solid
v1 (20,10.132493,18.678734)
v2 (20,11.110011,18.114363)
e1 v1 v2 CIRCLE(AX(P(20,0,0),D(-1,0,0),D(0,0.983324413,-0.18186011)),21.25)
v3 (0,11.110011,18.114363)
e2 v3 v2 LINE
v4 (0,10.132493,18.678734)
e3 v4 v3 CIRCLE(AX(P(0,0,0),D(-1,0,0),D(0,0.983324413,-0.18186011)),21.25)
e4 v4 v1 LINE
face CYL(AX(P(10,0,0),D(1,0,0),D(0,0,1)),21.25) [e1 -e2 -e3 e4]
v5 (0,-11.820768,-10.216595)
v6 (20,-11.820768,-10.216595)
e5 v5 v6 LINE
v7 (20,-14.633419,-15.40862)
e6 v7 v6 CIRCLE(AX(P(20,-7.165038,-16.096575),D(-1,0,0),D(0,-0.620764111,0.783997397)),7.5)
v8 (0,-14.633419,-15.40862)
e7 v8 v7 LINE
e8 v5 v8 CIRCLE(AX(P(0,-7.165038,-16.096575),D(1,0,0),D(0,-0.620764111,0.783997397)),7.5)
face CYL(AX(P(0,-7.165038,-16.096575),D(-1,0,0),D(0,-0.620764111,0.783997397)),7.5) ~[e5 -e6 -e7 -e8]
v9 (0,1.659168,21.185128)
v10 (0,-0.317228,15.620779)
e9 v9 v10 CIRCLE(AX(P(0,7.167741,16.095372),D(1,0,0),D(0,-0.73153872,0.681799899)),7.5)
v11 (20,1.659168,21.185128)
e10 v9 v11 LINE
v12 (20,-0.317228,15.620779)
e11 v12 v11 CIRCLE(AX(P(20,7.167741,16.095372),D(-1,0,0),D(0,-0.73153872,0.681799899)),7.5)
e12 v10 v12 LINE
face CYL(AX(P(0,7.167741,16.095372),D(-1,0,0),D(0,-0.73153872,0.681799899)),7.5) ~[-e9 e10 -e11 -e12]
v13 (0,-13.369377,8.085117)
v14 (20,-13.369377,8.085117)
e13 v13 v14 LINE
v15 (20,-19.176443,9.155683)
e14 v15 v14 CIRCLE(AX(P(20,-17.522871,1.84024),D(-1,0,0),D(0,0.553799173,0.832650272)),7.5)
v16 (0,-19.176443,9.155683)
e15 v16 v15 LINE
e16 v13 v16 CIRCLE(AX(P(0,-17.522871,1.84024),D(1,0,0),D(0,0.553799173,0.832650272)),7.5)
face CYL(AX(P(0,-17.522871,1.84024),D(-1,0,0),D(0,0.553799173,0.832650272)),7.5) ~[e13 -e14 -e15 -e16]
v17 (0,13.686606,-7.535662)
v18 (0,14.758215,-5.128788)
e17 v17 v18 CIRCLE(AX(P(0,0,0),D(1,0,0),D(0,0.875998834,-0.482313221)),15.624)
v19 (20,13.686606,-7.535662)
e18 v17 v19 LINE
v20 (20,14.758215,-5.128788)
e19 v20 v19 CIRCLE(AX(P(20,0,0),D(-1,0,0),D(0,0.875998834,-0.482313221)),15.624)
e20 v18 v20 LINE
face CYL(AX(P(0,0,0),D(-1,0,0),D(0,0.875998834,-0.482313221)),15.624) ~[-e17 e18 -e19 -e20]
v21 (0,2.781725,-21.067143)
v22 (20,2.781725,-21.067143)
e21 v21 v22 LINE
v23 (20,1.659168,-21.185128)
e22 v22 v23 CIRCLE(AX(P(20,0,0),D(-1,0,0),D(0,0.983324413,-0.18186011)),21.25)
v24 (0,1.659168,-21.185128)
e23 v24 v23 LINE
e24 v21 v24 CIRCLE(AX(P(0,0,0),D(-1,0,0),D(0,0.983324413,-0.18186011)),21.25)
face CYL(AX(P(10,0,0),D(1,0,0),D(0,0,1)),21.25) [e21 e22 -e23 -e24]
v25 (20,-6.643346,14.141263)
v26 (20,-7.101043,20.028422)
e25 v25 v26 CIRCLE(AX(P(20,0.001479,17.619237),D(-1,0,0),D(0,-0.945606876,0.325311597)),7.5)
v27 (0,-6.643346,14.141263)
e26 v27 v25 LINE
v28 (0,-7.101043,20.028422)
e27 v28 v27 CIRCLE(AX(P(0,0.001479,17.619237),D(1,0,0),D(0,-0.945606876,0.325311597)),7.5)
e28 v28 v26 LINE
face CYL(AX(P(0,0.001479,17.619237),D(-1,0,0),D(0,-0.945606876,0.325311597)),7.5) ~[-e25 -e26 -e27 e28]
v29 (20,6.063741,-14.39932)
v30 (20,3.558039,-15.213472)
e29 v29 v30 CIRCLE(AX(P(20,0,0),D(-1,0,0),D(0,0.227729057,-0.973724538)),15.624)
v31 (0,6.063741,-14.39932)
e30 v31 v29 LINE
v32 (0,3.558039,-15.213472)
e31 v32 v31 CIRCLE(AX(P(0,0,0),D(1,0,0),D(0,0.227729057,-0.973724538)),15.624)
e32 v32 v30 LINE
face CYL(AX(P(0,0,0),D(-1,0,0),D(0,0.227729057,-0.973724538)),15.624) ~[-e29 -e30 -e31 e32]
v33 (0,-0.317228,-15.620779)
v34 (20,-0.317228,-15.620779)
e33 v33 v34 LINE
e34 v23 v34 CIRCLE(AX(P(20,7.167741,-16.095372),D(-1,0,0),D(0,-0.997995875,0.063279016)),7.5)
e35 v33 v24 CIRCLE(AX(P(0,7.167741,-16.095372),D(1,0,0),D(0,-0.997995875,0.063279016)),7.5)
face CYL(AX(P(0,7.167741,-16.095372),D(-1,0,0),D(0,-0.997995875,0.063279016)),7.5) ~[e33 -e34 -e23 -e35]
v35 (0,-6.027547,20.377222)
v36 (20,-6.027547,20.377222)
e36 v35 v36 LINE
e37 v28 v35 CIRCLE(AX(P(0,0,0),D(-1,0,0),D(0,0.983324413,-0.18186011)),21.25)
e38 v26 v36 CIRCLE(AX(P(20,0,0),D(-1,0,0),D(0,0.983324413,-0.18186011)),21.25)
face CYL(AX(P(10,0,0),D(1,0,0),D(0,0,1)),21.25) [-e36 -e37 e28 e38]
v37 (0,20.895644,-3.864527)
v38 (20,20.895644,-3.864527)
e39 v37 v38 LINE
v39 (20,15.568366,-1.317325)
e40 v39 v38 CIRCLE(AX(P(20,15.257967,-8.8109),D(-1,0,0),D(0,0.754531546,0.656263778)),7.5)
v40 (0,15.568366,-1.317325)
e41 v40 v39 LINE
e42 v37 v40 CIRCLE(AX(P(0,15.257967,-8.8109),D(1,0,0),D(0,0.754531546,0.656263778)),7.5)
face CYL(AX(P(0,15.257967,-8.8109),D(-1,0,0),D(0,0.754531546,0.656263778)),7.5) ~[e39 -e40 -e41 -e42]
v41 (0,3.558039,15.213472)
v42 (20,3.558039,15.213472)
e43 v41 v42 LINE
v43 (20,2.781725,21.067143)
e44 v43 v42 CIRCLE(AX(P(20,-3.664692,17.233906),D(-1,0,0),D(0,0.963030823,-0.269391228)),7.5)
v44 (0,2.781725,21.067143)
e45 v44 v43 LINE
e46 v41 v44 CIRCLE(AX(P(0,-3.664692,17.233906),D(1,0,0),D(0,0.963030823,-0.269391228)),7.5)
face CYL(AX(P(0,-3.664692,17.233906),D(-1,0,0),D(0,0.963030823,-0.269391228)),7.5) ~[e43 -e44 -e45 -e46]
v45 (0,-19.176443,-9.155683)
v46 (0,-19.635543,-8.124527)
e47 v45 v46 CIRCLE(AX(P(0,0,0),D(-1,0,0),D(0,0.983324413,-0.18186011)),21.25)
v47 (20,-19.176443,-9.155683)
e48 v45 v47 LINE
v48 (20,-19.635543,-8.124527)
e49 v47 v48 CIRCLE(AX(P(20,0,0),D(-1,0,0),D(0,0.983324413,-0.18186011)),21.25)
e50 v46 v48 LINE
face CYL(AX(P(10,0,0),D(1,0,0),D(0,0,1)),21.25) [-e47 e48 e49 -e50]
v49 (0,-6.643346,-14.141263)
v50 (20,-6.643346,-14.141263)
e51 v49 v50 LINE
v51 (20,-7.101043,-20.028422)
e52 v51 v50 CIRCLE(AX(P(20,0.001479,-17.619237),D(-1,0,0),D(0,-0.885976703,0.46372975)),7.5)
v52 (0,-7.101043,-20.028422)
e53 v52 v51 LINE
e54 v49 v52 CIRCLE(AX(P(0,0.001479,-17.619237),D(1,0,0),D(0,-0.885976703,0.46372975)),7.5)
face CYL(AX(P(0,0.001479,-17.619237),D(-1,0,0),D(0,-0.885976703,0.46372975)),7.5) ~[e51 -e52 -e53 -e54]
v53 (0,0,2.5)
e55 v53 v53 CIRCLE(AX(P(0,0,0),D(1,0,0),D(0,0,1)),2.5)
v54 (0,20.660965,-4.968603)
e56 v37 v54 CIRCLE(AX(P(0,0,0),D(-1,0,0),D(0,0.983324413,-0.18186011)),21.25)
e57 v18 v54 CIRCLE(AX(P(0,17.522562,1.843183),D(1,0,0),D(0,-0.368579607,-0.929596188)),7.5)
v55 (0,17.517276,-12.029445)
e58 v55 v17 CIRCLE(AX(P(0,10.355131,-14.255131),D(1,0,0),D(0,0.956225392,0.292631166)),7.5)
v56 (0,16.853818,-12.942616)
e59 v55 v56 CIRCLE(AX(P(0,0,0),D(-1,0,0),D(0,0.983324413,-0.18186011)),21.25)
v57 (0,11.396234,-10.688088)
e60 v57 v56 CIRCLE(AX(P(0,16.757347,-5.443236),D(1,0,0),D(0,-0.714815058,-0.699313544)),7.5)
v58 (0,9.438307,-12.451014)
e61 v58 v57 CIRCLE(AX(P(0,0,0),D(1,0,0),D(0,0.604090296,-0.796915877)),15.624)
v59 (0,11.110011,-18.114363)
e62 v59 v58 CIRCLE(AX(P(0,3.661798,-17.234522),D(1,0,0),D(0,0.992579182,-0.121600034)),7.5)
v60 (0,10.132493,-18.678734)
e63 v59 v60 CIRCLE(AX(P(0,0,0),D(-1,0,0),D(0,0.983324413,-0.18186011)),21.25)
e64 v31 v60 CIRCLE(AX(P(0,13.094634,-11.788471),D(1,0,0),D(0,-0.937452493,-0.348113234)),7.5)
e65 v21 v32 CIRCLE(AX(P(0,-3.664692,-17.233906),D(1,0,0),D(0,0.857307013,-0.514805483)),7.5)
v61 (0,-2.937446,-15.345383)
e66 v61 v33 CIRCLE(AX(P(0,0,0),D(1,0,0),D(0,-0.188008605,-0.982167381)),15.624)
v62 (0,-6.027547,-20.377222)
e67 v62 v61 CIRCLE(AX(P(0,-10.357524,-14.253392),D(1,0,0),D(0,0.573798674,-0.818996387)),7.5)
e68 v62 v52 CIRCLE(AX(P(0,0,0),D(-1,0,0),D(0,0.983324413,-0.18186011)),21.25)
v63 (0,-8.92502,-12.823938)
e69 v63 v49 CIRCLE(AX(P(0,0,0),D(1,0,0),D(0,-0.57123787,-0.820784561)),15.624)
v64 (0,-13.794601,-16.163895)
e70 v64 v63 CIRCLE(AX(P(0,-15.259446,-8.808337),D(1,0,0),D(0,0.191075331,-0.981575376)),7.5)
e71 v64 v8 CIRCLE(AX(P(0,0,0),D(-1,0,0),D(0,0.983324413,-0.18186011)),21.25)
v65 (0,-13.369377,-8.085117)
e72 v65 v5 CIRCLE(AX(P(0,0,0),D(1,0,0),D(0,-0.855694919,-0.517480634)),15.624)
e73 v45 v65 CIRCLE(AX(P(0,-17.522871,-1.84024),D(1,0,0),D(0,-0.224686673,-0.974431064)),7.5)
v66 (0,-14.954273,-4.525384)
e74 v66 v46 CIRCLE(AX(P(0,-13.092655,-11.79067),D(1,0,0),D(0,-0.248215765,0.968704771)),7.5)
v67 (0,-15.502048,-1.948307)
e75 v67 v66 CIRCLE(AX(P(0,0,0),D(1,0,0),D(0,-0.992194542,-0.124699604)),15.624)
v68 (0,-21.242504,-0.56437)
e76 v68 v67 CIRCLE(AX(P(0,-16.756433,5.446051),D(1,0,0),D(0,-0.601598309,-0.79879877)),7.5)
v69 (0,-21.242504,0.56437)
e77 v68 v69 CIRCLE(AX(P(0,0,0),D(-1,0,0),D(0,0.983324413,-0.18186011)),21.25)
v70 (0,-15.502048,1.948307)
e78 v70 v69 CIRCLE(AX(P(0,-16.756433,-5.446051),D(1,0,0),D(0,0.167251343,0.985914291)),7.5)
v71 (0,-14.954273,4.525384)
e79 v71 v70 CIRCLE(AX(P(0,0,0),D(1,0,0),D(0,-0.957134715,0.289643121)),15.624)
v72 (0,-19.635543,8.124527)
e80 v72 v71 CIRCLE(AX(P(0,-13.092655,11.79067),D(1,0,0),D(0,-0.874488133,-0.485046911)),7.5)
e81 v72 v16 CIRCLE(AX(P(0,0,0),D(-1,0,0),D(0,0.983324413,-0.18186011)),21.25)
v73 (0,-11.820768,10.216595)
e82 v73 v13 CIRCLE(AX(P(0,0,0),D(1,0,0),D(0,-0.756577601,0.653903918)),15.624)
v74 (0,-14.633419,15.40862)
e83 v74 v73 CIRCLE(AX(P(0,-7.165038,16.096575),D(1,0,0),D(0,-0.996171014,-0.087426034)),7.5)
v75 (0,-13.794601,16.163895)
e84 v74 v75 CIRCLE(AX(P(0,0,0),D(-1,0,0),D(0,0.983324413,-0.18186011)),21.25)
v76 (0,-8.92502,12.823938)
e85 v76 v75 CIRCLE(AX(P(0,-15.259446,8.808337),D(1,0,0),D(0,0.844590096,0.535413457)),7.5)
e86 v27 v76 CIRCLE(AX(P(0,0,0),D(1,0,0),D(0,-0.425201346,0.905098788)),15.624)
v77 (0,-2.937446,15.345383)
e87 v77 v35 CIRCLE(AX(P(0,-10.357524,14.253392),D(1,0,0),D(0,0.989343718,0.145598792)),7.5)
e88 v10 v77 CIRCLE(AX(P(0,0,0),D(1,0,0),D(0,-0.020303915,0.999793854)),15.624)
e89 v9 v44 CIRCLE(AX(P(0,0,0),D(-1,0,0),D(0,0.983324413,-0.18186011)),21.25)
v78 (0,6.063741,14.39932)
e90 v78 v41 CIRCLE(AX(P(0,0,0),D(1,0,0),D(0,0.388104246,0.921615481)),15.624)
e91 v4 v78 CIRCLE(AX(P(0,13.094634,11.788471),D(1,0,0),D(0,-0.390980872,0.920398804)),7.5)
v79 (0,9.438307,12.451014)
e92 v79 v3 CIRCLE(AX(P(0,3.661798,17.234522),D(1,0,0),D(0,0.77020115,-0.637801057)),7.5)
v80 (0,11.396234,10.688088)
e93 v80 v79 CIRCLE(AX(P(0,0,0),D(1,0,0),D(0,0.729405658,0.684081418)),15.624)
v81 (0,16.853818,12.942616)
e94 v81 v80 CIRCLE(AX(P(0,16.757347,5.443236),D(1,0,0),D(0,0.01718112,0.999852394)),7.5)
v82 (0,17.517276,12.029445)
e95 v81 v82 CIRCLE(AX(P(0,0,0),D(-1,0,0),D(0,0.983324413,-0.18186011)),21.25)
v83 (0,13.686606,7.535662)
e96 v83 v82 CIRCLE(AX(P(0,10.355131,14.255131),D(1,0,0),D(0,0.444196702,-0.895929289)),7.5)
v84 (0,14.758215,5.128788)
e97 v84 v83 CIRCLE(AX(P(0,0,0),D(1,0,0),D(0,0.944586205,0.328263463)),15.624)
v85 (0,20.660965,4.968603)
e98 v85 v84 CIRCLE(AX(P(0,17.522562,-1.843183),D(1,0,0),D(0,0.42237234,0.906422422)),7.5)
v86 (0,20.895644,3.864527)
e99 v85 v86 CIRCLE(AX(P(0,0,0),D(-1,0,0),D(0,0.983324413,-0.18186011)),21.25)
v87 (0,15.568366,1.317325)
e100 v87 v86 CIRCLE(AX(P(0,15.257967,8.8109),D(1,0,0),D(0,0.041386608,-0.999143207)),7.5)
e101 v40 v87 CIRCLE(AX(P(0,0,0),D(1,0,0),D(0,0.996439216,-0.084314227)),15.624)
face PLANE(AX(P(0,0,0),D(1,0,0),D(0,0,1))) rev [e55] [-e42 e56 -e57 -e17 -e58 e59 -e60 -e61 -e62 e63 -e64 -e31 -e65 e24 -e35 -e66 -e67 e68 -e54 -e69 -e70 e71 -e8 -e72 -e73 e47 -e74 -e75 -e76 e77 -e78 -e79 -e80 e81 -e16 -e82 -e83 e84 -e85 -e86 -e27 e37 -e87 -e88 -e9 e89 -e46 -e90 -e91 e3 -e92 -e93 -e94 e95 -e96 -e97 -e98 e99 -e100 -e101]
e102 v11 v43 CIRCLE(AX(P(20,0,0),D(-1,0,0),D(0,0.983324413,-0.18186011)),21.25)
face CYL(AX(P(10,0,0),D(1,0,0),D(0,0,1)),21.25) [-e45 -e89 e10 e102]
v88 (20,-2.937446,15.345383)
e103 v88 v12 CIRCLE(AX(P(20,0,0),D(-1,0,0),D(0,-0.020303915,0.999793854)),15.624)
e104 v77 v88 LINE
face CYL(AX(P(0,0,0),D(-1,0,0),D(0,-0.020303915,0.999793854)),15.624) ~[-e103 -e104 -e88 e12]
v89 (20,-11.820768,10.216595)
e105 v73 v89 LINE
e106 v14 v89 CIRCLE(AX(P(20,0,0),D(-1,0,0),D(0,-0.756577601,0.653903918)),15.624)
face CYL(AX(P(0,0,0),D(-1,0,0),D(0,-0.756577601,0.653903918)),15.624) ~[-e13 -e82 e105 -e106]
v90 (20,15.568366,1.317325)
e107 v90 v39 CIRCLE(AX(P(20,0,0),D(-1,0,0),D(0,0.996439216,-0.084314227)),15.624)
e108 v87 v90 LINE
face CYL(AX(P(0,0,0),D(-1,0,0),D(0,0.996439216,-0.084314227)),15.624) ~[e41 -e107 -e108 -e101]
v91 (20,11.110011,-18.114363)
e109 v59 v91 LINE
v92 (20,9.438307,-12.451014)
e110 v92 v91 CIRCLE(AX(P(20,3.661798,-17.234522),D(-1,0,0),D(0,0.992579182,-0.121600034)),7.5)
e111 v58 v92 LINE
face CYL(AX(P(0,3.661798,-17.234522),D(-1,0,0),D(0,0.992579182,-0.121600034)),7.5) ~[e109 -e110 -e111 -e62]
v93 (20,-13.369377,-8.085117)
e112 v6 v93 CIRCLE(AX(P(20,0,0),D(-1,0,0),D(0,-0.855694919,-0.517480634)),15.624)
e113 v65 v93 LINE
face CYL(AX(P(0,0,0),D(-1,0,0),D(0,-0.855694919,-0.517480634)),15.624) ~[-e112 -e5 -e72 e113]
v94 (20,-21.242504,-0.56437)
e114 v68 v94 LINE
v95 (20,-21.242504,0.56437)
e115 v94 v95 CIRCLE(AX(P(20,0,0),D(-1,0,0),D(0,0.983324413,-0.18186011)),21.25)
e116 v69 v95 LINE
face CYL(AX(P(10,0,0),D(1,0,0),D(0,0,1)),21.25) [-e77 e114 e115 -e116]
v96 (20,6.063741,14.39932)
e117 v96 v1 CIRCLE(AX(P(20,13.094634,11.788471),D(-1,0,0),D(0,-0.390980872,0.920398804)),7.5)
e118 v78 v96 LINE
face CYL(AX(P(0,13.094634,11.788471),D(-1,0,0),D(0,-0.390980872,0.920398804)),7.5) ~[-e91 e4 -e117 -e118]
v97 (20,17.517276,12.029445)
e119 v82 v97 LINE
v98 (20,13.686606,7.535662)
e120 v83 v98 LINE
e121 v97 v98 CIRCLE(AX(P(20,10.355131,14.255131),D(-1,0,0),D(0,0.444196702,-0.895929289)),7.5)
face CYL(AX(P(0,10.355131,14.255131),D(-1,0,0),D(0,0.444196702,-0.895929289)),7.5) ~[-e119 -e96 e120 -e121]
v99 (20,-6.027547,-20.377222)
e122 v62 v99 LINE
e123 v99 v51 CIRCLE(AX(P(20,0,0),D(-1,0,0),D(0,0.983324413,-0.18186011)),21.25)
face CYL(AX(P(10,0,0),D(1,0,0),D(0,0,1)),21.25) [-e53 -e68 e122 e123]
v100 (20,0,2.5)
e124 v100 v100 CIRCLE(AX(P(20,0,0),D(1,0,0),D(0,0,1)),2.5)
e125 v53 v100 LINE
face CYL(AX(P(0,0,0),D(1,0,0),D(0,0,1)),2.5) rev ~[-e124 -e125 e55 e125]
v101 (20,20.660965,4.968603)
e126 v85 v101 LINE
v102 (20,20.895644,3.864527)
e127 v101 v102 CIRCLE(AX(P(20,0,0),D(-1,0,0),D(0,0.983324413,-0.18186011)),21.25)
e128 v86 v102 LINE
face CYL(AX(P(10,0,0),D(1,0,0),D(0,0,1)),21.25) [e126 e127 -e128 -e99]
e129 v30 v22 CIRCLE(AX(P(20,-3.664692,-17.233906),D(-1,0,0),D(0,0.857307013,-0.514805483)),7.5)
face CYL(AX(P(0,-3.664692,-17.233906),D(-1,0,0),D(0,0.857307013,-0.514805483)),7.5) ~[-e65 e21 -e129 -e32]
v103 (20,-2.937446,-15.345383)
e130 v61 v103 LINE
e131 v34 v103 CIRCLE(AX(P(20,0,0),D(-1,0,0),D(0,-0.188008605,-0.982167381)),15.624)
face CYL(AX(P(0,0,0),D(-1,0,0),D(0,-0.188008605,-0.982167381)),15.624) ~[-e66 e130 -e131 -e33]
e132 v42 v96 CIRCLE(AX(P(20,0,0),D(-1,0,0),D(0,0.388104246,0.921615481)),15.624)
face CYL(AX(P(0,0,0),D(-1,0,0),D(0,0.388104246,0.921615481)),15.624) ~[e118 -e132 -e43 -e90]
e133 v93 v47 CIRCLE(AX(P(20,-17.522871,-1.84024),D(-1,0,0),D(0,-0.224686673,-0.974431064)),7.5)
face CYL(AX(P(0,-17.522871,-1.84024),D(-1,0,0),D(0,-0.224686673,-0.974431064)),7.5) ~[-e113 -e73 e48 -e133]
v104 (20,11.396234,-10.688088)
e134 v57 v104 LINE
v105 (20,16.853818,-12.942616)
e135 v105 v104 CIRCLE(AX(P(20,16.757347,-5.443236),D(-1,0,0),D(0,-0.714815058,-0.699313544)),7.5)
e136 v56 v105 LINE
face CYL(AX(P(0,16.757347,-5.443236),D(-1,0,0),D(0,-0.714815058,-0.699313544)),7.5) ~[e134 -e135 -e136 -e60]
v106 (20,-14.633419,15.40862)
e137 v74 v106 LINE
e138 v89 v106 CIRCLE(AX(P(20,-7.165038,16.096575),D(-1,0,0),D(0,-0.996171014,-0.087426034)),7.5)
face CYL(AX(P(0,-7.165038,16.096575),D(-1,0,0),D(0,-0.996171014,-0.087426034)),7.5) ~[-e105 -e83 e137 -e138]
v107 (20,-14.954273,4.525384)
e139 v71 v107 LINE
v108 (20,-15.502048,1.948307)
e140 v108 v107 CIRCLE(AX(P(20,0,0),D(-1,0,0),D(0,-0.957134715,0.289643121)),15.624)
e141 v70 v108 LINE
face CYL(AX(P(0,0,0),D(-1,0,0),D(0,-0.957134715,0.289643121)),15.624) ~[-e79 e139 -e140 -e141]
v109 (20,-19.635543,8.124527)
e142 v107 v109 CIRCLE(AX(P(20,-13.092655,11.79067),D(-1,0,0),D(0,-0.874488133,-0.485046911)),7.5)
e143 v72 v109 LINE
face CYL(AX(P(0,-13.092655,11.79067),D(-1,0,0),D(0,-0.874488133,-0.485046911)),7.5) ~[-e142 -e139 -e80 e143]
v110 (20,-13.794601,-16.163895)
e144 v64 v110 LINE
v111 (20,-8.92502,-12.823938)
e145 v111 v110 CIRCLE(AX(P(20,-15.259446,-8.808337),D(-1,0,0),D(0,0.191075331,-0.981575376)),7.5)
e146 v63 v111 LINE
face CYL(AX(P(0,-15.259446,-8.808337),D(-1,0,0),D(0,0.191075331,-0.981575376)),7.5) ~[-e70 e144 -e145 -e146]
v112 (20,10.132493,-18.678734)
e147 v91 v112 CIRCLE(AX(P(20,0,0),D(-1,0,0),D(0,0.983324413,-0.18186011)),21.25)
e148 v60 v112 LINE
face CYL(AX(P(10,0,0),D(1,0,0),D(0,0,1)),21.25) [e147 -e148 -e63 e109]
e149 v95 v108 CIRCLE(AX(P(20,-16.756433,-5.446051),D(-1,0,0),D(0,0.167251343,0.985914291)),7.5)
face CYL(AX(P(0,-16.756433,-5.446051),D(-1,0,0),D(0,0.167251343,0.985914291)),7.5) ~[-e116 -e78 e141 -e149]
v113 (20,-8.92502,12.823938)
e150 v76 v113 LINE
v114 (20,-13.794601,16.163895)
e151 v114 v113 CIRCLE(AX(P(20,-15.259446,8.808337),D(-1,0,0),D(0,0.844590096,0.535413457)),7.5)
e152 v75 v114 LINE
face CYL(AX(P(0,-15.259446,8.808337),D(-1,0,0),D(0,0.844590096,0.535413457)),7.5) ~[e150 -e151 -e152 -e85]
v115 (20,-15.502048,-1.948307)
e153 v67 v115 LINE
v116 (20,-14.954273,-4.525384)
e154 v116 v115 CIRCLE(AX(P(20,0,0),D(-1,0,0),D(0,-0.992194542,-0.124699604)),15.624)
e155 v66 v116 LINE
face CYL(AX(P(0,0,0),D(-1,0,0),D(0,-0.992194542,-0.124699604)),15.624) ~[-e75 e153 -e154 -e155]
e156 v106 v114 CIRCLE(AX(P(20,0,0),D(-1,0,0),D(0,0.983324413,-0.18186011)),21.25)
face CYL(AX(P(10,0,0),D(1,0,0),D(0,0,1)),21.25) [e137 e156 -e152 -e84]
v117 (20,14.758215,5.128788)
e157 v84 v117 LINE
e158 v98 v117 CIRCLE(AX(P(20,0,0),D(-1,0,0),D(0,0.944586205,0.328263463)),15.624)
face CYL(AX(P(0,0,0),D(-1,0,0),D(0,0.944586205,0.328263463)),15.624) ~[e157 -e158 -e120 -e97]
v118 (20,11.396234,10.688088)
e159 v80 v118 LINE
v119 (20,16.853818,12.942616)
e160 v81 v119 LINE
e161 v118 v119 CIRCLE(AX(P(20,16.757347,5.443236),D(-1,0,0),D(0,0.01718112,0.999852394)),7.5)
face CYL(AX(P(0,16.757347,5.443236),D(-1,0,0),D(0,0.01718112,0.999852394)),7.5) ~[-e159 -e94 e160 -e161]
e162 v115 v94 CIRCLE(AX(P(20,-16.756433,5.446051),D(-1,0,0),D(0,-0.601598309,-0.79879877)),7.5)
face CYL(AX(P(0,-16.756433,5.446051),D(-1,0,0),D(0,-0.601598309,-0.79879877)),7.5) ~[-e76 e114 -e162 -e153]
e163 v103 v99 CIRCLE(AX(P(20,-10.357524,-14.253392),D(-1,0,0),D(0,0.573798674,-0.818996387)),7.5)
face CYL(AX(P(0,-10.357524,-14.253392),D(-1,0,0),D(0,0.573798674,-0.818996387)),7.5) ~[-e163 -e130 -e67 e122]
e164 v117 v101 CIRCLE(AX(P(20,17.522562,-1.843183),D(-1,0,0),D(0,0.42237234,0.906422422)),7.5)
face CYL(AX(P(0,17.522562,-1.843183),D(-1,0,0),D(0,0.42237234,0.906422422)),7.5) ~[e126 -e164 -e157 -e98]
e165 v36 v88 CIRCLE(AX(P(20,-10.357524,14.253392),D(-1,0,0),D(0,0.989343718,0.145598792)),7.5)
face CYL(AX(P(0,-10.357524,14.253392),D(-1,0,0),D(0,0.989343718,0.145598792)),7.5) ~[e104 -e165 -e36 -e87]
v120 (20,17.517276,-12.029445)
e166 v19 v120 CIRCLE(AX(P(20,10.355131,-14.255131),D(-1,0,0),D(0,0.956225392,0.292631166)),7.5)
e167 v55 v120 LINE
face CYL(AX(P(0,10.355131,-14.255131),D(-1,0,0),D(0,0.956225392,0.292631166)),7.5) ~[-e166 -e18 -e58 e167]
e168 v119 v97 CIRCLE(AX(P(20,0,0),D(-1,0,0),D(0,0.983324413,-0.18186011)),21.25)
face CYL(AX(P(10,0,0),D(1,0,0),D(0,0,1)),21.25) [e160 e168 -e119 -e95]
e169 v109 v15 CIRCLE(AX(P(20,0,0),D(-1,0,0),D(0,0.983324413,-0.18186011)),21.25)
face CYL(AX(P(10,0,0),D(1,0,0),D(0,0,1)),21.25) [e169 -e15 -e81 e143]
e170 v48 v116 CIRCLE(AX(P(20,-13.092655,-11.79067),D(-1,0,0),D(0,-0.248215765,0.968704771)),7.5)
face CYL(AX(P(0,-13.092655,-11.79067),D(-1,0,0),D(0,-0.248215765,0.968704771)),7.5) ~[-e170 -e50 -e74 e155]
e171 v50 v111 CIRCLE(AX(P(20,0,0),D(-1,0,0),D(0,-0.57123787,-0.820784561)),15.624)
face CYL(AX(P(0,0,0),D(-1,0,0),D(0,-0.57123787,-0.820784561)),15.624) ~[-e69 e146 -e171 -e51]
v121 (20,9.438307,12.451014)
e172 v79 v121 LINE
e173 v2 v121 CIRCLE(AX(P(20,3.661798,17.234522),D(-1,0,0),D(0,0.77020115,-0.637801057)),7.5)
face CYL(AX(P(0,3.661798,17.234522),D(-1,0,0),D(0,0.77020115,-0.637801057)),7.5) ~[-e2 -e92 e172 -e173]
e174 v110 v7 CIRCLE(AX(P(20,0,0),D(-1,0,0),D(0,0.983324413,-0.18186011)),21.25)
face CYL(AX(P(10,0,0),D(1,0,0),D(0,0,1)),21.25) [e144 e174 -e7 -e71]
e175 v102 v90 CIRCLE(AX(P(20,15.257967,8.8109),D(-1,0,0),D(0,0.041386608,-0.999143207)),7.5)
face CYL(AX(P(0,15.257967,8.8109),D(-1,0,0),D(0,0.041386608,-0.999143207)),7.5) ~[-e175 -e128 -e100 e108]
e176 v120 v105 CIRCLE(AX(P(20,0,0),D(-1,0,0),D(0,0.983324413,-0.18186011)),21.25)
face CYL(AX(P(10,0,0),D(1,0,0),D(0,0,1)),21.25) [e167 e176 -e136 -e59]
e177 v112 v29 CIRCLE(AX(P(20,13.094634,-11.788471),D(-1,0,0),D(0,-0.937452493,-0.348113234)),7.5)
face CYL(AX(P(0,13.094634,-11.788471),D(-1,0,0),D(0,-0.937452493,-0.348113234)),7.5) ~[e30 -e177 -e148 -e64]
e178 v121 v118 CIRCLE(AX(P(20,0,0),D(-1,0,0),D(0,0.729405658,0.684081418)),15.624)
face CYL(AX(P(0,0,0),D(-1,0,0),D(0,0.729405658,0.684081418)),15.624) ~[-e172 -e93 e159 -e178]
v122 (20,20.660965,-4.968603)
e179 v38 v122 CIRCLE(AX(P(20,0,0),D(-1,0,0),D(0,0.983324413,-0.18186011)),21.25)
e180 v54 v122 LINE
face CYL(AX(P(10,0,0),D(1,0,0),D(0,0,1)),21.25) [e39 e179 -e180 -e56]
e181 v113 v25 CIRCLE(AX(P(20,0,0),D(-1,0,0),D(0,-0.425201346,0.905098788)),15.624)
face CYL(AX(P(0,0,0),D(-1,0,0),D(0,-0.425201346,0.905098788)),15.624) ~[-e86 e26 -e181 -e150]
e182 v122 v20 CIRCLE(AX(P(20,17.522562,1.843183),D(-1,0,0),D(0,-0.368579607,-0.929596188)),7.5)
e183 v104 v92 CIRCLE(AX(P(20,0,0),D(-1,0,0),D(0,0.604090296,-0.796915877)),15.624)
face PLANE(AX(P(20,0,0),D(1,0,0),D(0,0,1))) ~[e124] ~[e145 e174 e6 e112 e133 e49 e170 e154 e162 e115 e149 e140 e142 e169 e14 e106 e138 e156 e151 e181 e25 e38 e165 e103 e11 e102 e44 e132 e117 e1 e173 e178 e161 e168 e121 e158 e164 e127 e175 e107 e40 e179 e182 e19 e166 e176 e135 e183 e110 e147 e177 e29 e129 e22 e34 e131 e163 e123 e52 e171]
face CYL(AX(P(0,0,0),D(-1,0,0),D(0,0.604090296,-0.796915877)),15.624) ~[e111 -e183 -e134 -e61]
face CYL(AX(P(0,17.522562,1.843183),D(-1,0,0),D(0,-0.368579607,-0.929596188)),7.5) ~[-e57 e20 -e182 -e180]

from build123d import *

# Parameters (mm, degrees)
BASPROSKE_W     = 20
BASPROSKE_H     = 21.25
TOOTHCUT_DEPTH  = 37.098822695
TEETHCUTS_COUNT = 15
TEETHCUTS_ANGLE = 336
BORSKE_R        = 2.5
BORE_DEPTH      = 50.0000508


with BuildPart() as part:
    # BasProSke → Base-Revolve (revolve)
    with BuildSketch(Plane(origin=(0, 0, 0), x_dir=(1, 0, 0), z_dir=(0, 1, 0)), mode=Mode.PRIVATE) as base_revolve_sk:
        with Locations((10, 10.625)):
            Rectangle(BASPROSKE_W, BASPROSKE_H)
    revolve(base_revolve_sk.sketch.rotate(Axis((-10, 0, 0), (1, 0, 0)), 180), axis=Axis((-10, 0, 0), (1, 0, 0)))

    # TooCutSke → ToothCut (cut, through all)
    with BuildSketch(Plane(origin=(0, 0, 0), x_dir=(0, 0, -1), z_dir=(1, 0, 0))):
        with BuildLine():
            ThreePointArc((1.317325472, 15.568366311), (0, 15.624), (-1.317325472, 15.568366311))
            ThreePointArc((-1.317325472, 15.568366311), (-2.05158513, 18.507838886), (-3.888921189, 20.916953343))
            ThreePointArc((-3.888921189, 20.916953343), (0, 21.2754), (3.888921189, 20.916953343))
            ThreePointArc((3.888921189, 20.916953343), (2.05158513, 18.507838886), (1.317325472, 15.568366311))
        make_face()
    toothcut = extrude(amount=TOOTHCUT_DEPTH, mode=Mode.SUBTRACT)

    # TeethCuts: ToothCut ×15 about axis
    teethcuts_axis = Axis((-10, 0, 0), (1, 0, 0))
    for i in range(1, TEETHCUTS_COUNT):
        add(toothcut.rotate(teethcuts_axis, i * TEETHCUTS_ANGLE / (TEETHCUTS_COUNT - 1)), mode=Mode.SUBTRACT)

    # BorSke → Bore (cut, symmetric)
    with BuildSketch(Plane(origin=(0, 0, 0), x_dir=(0, 0, -1), z_dir=(1, 0, 0))):
        with Locations(Location((0, 0, 0), (0, 0, 180))):
            Circle(BORSKE_R)
    extrude(amount=BORE_DEPTH, both=True, mode=Mode.SUBTRACT)


solid = part.part
